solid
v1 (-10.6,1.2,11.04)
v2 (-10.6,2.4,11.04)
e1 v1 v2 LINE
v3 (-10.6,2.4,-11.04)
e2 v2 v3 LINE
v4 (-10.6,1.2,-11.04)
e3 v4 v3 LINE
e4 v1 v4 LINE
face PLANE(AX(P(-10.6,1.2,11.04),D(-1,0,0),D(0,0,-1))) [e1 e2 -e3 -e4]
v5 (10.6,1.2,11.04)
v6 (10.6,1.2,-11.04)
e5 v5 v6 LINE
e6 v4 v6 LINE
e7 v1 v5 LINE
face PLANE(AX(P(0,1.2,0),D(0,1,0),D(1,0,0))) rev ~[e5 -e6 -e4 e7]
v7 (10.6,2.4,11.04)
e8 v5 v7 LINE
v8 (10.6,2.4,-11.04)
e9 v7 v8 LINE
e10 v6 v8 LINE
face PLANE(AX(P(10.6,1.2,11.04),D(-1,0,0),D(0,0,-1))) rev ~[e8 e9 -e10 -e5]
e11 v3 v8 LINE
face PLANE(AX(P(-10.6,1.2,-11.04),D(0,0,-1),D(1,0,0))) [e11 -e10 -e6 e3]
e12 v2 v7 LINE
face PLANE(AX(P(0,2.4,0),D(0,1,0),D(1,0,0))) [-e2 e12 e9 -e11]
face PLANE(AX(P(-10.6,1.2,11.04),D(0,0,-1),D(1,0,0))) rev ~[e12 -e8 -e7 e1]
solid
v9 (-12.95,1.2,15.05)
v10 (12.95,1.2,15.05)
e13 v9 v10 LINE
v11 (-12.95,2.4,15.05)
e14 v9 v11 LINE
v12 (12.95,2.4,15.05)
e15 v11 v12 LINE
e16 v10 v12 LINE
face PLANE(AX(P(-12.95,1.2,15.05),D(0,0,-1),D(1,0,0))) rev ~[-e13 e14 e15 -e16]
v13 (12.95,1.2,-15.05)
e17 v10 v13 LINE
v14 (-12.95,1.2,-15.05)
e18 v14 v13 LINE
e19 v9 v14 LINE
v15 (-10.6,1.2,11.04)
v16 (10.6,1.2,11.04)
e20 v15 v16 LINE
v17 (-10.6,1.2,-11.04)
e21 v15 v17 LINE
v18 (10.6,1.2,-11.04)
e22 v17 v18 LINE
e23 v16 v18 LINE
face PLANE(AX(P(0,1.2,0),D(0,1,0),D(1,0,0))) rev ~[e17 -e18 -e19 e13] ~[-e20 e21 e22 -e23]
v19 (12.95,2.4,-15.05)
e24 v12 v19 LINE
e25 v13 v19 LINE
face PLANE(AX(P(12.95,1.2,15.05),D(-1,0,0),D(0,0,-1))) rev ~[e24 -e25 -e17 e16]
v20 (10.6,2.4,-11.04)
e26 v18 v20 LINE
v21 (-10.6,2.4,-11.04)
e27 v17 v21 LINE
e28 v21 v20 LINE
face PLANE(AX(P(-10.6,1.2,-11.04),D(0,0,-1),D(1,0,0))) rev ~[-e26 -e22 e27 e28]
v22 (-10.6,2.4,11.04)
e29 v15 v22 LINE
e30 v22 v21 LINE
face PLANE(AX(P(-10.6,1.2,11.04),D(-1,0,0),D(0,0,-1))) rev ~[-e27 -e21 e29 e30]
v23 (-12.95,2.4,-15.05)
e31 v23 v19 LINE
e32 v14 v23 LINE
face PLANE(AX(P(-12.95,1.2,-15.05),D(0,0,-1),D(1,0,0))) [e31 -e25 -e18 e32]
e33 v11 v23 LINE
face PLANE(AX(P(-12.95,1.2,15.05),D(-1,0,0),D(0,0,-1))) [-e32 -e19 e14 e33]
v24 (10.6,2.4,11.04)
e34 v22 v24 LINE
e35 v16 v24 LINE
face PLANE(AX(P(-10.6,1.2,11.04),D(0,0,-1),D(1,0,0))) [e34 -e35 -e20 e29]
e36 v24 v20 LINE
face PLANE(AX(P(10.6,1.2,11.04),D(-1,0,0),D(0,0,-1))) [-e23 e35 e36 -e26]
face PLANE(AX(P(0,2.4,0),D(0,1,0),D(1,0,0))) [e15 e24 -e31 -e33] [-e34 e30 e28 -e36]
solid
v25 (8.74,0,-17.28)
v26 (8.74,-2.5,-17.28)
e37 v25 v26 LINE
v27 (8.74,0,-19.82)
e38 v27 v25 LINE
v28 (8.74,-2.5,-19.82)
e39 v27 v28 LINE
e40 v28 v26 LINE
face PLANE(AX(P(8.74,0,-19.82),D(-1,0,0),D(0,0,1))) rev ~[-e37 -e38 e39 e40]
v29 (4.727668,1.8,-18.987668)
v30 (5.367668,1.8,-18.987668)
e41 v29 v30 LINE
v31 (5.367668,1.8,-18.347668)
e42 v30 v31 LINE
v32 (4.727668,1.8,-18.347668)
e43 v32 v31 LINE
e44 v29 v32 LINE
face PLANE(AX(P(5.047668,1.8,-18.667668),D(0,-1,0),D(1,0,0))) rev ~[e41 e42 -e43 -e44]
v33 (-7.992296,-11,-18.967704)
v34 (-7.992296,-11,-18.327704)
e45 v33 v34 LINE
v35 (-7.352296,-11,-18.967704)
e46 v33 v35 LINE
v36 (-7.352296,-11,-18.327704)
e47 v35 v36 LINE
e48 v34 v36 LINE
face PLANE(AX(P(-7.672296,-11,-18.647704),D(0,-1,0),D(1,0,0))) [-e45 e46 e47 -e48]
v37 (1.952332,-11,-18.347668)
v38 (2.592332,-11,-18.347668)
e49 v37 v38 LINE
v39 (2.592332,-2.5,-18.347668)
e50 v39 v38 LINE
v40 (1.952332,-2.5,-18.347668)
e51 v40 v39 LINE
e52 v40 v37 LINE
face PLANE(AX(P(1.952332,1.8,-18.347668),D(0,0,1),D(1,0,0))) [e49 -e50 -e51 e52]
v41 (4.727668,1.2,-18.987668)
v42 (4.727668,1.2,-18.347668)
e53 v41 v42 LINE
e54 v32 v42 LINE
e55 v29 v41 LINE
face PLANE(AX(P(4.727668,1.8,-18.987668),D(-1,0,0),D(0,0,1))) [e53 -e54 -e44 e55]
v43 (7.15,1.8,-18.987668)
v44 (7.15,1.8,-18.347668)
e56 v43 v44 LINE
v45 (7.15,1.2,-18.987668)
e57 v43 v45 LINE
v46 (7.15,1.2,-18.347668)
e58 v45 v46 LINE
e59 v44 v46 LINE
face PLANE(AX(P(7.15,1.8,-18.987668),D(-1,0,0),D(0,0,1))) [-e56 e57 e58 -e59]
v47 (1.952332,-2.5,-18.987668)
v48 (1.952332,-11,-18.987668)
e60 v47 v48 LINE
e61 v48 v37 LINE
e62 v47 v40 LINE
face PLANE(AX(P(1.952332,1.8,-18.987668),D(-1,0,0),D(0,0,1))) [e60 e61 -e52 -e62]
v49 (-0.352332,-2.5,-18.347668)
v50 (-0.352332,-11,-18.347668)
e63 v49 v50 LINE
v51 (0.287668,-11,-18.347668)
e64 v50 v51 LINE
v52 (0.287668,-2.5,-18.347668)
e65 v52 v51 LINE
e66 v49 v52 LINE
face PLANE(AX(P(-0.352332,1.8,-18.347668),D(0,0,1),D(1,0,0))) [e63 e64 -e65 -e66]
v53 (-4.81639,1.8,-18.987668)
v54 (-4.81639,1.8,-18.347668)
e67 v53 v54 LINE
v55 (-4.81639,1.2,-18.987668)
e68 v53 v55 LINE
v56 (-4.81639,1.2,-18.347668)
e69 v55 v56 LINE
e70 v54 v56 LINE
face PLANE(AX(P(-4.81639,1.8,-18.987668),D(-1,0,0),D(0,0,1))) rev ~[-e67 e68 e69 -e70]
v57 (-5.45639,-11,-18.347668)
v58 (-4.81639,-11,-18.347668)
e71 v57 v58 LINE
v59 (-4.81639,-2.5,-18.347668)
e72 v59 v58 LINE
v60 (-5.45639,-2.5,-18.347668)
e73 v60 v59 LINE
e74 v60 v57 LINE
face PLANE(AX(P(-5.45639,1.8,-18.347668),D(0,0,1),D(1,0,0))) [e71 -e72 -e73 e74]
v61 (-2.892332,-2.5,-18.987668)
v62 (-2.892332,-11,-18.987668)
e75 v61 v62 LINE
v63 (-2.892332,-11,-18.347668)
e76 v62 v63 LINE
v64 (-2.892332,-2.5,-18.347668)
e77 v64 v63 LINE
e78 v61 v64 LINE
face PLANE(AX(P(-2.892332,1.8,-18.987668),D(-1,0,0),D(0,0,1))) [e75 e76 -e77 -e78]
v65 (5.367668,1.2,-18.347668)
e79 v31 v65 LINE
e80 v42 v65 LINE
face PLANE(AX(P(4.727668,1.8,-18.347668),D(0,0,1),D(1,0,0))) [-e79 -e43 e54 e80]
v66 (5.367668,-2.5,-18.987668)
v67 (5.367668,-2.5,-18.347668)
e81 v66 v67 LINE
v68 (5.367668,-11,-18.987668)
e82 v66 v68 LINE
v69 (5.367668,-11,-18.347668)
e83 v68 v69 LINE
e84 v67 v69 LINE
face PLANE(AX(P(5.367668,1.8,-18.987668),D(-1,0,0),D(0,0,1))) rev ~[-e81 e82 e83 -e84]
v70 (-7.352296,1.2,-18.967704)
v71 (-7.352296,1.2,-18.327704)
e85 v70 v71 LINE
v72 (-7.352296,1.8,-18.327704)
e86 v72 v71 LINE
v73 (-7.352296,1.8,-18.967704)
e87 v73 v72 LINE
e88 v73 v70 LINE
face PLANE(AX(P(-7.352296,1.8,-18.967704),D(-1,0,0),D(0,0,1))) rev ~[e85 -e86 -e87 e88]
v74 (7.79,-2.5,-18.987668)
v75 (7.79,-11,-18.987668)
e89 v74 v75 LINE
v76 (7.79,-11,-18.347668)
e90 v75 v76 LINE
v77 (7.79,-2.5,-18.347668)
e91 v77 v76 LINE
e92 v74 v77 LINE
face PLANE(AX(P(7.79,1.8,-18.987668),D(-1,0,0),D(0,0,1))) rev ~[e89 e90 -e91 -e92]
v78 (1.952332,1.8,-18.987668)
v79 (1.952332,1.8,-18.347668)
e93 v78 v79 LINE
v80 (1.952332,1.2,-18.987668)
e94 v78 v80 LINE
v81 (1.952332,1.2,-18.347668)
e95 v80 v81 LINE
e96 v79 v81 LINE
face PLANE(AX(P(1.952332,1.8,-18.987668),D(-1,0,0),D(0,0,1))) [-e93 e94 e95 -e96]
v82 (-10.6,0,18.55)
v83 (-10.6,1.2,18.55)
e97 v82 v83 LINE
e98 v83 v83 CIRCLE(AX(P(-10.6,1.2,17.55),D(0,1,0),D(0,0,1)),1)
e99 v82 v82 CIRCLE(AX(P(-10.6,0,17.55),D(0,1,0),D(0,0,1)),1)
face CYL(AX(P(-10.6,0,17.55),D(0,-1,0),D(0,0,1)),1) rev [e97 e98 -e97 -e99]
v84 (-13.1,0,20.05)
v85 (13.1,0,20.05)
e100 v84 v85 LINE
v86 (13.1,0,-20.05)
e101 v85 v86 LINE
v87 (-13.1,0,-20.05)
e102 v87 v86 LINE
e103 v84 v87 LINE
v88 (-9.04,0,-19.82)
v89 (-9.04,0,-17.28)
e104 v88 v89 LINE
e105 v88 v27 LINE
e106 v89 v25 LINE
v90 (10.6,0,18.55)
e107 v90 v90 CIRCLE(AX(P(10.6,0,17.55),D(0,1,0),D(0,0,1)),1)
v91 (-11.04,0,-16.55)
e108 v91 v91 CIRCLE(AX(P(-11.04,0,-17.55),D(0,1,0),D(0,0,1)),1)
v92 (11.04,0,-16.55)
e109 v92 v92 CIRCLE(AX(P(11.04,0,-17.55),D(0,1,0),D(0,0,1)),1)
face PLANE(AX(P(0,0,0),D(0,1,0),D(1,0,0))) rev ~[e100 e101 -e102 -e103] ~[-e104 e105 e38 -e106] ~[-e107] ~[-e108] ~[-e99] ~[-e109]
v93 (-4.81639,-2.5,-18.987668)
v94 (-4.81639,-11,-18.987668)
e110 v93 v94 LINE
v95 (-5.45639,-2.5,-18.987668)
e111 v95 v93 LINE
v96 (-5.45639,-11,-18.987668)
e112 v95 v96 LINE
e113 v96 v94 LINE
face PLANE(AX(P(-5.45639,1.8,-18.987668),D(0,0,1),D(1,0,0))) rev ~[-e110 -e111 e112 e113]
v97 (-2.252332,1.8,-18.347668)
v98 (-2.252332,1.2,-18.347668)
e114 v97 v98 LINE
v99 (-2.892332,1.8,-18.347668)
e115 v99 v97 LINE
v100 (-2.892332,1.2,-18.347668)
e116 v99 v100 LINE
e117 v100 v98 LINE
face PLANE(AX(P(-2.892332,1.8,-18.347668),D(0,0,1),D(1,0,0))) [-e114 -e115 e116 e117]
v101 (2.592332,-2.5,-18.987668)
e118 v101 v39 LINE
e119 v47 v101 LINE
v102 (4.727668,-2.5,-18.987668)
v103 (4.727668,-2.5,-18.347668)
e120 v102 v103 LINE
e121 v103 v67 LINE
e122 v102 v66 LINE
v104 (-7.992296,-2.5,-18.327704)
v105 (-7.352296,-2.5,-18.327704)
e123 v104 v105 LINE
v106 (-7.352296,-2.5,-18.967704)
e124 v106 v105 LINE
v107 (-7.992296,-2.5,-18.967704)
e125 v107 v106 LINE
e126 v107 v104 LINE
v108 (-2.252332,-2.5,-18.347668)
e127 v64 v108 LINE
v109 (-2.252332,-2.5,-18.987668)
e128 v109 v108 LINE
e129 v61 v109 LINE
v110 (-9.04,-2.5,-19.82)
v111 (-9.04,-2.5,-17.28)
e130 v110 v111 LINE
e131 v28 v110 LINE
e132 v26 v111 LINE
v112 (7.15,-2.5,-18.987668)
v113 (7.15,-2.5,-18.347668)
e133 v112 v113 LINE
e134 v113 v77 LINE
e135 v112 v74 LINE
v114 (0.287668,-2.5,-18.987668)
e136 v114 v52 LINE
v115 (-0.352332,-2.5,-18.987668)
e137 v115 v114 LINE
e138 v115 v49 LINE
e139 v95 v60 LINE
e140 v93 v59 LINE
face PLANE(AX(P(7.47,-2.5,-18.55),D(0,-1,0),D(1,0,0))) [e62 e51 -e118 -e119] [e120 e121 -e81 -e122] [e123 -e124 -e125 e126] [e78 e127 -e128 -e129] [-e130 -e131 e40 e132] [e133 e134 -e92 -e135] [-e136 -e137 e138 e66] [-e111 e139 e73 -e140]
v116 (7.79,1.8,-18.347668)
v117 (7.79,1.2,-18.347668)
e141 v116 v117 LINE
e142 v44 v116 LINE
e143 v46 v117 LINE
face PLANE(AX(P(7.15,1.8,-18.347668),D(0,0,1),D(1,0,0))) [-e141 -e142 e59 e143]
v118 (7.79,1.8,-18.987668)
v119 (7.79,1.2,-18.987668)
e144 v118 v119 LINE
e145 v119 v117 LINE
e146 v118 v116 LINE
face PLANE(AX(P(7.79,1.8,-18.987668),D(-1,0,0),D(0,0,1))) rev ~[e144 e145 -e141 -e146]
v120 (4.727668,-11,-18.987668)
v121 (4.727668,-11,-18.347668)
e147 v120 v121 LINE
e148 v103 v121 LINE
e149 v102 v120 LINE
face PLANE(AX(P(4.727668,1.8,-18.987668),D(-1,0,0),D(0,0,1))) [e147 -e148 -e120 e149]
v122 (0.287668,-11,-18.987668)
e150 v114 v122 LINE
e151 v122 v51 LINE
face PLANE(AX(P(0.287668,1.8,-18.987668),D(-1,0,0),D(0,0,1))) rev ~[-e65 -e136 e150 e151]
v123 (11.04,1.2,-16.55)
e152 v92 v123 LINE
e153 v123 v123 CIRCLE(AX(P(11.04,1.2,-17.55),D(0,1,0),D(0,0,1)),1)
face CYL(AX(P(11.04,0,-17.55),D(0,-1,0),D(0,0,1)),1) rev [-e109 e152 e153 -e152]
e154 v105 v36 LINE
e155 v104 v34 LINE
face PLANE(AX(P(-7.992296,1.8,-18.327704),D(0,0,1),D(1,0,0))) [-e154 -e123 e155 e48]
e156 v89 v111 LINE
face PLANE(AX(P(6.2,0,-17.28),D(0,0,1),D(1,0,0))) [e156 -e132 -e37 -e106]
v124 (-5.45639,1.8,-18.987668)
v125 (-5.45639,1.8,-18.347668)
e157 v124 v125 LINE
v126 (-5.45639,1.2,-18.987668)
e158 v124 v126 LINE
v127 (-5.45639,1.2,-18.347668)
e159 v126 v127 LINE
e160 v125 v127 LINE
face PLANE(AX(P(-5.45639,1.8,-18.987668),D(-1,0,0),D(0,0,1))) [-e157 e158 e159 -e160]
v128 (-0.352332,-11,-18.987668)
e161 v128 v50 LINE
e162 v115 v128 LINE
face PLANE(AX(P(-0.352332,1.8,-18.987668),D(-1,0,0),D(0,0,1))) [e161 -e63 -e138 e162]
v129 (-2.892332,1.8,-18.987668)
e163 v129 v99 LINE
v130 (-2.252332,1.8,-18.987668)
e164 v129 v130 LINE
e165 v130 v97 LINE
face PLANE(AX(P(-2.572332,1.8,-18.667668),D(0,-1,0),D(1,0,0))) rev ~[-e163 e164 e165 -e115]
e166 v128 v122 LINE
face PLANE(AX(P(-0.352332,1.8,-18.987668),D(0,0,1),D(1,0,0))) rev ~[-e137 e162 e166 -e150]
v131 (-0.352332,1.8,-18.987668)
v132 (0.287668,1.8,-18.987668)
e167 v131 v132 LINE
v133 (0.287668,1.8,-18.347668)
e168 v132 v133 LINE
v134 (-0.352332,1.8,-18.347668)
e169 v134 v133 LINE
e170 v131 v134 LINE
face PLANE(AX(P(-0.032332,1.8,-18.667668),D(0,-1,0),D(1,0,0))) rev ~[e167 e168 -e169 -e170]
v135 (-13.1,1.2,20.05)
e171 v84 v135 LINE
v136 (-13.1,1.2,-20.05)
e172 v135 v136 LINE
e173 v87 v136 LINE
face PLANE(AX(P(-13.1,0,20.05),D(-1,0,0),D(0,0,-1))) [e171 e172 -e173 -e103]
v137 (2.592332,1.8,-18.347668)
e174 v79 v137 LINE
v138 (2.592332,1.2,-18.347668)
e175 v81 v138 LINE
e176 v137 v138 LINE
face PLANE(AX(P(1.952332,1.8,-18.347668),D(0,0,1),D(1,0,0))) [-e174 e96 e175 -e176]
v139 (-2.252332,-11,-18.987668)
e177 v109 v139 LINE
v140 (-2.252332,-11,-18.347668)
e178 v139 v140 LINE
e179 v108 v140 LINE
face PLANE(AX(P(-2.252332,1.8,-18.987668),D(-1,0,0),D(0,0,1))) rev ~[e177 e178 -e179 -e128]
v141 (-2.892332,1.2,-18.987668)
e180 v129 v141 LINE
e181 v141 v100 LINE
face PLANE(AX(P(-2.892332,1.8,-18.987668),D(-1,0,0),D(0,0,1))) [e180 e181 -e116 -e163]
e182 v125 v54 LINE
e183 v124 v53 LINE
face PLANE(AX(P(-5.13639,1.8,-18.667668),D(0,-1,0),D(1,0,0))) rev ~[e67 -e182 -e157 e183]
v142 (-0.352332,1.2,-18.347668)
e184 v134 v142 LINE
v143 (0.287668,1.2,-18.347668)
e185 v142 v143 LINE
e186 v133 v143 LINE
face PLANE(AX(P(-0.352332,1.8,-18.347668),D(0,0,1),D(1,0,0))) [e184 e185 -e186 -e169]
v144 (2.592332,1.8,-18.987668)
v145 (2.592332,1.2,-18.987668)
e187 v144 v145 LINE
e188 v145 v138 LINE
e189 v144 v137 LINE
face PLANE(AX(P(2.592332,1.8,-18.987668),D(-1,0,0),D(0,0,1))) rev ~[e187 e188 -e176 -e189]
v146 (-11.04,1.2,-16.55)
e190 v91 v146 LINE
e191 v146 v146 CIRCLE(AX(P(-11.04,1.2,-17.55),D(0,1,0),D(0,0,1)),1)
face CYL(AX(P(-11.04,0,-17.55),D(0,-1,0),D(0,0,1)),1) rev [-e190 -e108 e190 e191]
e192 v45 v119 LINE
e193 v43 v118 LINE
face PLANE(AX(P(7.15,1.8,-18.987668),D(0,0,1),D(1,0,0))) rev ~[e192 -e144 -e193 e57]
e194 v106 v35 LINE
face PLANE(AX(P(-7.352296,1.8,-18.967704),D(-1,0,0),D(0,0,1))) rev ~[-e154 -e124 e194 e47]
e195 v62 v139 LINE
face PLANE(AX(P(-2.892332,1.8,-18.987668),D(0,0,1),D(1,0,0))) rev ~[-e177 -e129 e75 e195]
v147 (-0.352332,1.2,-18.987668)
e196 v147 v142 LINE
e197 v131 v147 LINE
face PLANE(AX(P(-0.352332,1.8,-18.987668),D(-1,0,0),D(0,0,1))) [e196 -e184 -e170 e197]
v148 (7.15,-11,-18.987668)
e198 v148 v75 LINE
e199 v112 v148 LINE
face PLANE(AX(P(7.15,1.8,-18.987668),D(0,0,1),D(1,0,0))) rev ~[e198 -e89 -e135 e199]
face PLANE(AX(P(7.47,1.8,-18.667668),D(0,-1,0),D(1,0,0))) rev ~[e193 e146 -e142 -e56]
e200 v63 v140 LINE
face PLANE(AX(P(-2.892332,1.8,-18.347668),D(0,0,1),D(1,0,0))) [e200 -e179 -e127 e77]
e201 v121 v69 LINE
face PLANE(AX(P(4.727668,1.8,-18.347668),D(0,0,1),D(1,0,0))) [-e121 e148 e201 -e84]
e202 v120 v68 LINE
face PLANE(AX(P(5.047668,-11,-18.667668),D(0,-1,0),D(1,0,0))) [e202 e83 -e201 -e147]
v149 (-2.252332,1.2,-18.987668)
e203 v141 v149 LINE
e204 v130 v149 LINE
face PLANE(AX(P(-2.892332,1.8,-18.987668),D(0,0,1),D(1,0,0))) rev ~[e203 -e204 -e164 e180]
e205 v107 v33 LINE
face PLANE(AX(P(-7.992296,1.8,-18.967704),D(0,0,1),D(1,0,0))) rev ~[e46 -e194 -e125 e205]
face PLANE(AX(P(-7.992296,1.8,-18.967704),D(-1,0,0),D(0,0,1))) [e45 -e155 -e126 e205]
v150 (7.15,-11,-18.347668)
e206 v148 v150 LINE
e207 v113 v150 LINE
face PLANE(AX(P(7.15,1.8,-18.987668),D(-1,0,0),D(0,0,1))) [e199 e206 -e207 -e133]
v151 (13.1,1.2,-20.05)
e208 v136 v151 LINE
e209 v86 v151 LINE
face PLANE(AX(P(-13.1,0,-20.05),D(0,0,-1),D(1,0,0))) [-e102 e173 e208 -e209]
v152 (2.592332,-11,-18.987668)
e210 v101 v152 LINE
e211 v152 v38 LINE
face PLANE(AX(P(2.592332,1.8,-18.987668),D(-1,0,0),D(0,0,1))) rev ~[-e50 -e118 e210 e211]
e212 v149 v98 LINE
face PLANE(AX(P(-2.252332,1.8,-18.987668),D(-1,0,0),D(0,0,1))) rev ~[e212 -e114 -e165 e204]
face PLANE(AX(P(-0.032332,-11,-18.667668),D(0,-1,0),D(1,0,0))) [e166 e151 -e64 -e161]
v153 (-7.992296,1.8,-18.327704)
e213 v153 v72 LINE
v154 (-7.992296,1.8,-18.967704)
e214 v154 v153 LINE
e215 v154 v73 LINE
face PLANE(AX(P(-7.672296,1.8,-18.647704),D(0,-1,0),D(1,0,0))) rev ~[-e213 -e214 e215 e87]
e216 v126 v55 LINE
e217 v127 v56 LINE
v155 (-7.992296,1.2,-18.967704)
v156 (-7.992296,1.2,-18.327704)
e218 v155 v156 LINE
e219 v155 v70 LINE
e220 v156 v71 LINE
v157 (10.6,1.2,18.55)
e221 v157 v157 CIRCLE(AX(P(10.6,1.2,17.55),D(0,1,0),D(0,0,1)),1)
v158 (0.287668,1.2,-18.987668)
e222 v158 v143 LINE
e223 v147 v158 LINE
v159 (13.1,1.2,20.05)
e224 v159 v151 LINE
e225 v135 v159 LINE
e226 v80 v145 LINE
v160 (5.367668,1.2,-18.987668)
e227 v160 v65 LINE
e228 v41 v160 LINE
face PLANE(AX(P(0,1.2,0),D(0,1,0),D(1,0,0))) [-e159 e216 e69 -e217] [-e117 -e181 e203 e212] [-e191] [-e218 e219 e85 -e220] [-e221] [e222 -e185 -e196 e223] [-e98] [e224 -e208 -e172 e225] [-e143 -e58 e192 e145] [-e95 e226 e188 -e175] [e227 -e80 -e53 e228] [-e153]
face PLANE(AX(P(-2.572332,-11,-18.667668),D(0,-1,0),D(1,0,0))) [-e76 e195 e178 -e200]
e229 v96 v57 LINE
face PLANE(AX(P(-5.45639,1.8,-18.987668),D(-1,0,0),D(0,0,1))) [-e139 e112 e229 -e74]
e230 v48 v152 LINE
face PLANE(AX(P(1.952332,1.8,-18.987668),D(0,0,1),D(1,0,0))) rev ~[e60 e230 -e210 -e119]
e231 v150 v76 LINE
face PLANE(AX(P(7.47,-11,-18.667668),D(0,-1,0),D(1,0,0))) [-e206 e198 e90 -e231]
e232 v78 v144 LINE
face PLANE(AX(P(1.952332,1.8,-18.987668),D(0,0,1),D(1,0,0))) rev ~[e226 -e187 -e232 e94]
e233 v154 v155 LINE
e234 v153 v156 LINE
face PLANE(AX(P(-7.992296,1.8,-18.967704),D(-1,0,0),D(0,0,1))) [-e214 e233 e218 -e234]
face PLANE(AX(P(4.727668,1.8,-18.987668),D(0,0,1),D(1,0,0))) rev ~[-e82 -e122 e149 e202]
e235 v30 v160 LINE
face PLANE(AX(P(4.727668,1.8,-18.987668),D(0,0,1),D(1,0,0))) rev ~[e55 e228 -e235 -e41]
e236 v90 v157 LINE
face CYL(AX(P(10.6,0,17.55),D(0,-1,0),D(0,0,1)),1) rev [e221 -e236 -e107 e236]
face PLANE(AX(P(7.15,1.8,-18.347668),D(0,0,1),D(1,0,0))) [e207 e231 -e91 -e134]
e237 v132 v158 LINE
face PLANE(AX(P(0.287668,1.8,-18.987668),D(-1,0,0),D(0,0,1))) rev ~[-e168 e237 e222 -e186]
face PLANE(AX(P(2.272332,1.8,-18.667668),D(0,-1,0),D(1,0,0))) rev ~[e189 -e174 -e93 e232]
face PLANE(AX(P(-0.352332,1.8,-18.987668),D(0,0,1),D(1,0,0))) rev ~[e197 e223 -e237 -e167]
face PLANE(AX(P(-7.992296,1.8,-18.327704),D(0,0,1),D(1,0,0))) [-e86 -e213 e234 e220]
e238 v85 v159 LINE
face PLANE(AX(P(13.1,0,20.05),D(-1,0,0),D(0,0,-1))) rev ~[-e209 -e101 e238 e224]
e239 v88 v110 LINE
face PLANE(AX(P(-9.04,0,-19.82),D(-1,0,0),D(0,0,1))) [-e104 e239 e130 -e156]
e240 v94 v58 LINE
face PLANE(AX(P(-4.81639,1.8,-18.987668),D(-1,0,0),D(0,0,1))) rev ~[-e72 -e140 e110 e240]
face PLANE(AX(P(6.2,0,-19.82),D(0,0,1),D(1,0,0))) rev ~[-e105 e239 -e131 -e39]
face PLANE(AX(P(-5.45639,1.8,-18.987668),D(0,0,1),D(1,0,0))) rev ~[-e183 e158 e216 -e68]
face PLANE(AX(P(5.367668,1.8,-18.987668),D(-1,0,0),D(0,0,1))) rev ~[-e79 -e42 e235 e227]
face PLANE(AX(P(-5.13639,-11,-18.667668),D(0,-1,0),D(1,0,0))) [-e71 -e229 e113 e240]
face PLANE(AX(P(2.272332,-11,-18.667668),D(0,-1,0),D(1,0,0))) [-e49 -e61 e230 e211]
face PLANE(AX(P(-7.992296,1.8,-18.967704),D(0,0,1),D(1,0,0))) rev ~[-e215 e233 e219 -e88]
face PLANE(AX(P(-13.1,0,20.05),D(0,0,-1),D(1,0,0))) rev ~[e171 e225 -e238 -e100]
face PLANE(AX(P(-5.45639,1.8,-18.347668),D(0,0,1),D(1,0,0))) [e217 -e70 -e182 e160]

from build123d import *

# Parameters (mm, degrees)
PCB_2_W                   = 26.2
PCB_2_H                   = 40.1
PCB_2_R                   = 1
PCB_DEPTH                 = 1.2
OLED_2_W                  = 25.9
OLED_2_H                  = 30.1
OLED_2_W_2                = 21.2
OLED_2_H_2                = 22.08
OLED_DEPTH                = 1.2
OLED_2_2_W                = 21.2
OLED_2_2_H                = 22.08
OLED_3_DEPTH              = 1.2
SKETCH_2_54_W             = 17.78
SKETCH_2_54_H             = 2.54
SKETCH_2_54_W_2           = 0.64
SKETCH_2_54_H_2           = 0.64
EXTRUDE_2_54_0_DEPTH      = 2.5
EXTRUDE_2_54_1_DEPTH      = 11
EXTRUDE_2_54_1_DEPTH_BACK = 1.8
SKETCH_2_54_3_W           = 0.64
SKETCH_2_54_3_H           = 0.64


with BuildPart() as part:
    # PCB 2 → PCB (new body)
    with BuildSketch(Plane(origin=(0, 0, 0), x_dir=(1, 0, 0), z_dir=(0, 1, 0))):
        Rectangle(PCB_2_W, PCB_2_H)
        with Locations((-10.6, -17.55)):
            Circle(PCB_2_R, mode=Mode.SUBTRACT)
        with Locations((10.6, -17.55)):
            Circle(PCB_2_R, mode=Mode.SUBTRACT)
        with Locations((-11.04, 17.55)):
            Circle(PCB_2_R, mode=Mode.SUBTRACT)
        with Locations((11.04, 17.55)):
            Circle(PCB_2_R, mode=Mode.SUBTRACT)
    extrude(amount=PCB_DEPTH)

    # 2.54端子草图 → 2.54端子0 (add)
    with BuildSketch(Plane.XZ):
        with Locations((-0.15, -18.55)):
            Rectangle(SKETCH_2_54_W, SKETCH_2_54_H)
        with Locations((7.47, -18.667667874)):
            Rectangle(SKETCH_2_54_W_2, SKETCH_2_54_H_2, mode=Mode.SUBTRACT)
        with Locations((5.047667874, -18.667667874)):
            Rectangle(SKETCH_2_54_W_2, SKETCH_2_54_H_2, mode=Mode.SUBTRACT)
        with Locations((2.272332126, -18.667667874)):
            Rectangle(SKETCH_2_54_W_2, SKETCH_2_54_H_2, mode=Mode.SUBTRACT)
        with Locations((-0.032332126, -18.667667874)):
            Rectangle(SKETCH_2_54_W_2, SKETCH_2_54_H_2, mode=Mode.SUBTRACT)
        with Locations((-2.572332126, -18.667667874)):
            Rectangle(SKETCH_2_54_W_2, SKETCH_2_54_H_2, mode=Mode.SUBTRACT)
        with Locations((-5.136389737, -18.667667874)):
            Rectangle(SKETCH_2_54_W_2, SKETCH_2_54_H_2, mode=Mode.SUBTRACT)
        with Locations((-7.672296396, -18.647703604)):
            Rectangle(SKETCH_2_54_W_2, SKETCH_2_54_H_2, mode=Mode.SUBTRACT)
    extrude(amount=EXTRUDE_2_54_0_DEPTH)

    # 2.54端子草图<3> → 2.54端子1 (add, two sides: drawn at the far end of the back side and taken through both)
    with BuildSketch(Plane.XZ.offset(-EXTRUDE_2_54_1_DEPTH_BACK)):
        with Locations((7.47, -18.667667874)):
            Rectangle(SKETCH_2_54_3_W, SKETCH_2_54_3_H)
        with Locations((5.047667874, -18.667667874)):
            Rectangle(SKETCH_2_54_3_W, SKETCH_2_54_3_H)
        with Locations((2.272332126, -18.667667874)):
            Rectangle(SKETCH_2_54_3_W, SKETCH_2_54_3_H)
        with Locations((-0.032332126, -18.667667874)):
            Rectangle(SKETCH_2_54_3_W, SKETCH_2_54_3_H)
        with Locations((-2.572332126, -18.667667874)):
            Rectangle(SKETCH_2_54_3_W, SKETCH_2_54_3_H)
        with Locations((-5.136389737, -18.667667874)):
            Rectangle(SKETCH_2_54_3_W, SKETCH_2_54_3_H)
        with Locations((-7.672296396, -18.647703604)):
            Rectangle(SKETCH_2_54_3_W, SKETCH_2_54_3_H)
    extrude(amount=EXTRUDE_2_54_1_DEPTH + EXTRUDE_2_54_1_DEPTH_BACK)


with BuildPart() as body_2:
    # OLED 2 → OLED (new body)
    with BuildSketch(Plane(origin=(0, 1.2, 0), x_dir=(1, 0, 0), z_dir=(0, 1, 0))):
        Rectangle(OLED_2_W, OLED_2_H)
        Rectangle(OLED_2_W_2, OLED_2_H_2, mode=Mode.SUBTRACT)
    extrude(amount=OLED_DEPTH)


with BuildPart() as body_3:
    # OLED_2 2 → OLED 3 (new body)
    with BuildSketch(Plane(origin=(0, 1.2, 0), x_dir=(1, 0, 0), z_dir=(0, 1, 0))):
        Rectangle(OLED_2_2_W, OLED_2_2_H)
    extrude(amount=OLED_3_DEPTH)


solid = Compound([part.part, body_2.part, body_3.part])
